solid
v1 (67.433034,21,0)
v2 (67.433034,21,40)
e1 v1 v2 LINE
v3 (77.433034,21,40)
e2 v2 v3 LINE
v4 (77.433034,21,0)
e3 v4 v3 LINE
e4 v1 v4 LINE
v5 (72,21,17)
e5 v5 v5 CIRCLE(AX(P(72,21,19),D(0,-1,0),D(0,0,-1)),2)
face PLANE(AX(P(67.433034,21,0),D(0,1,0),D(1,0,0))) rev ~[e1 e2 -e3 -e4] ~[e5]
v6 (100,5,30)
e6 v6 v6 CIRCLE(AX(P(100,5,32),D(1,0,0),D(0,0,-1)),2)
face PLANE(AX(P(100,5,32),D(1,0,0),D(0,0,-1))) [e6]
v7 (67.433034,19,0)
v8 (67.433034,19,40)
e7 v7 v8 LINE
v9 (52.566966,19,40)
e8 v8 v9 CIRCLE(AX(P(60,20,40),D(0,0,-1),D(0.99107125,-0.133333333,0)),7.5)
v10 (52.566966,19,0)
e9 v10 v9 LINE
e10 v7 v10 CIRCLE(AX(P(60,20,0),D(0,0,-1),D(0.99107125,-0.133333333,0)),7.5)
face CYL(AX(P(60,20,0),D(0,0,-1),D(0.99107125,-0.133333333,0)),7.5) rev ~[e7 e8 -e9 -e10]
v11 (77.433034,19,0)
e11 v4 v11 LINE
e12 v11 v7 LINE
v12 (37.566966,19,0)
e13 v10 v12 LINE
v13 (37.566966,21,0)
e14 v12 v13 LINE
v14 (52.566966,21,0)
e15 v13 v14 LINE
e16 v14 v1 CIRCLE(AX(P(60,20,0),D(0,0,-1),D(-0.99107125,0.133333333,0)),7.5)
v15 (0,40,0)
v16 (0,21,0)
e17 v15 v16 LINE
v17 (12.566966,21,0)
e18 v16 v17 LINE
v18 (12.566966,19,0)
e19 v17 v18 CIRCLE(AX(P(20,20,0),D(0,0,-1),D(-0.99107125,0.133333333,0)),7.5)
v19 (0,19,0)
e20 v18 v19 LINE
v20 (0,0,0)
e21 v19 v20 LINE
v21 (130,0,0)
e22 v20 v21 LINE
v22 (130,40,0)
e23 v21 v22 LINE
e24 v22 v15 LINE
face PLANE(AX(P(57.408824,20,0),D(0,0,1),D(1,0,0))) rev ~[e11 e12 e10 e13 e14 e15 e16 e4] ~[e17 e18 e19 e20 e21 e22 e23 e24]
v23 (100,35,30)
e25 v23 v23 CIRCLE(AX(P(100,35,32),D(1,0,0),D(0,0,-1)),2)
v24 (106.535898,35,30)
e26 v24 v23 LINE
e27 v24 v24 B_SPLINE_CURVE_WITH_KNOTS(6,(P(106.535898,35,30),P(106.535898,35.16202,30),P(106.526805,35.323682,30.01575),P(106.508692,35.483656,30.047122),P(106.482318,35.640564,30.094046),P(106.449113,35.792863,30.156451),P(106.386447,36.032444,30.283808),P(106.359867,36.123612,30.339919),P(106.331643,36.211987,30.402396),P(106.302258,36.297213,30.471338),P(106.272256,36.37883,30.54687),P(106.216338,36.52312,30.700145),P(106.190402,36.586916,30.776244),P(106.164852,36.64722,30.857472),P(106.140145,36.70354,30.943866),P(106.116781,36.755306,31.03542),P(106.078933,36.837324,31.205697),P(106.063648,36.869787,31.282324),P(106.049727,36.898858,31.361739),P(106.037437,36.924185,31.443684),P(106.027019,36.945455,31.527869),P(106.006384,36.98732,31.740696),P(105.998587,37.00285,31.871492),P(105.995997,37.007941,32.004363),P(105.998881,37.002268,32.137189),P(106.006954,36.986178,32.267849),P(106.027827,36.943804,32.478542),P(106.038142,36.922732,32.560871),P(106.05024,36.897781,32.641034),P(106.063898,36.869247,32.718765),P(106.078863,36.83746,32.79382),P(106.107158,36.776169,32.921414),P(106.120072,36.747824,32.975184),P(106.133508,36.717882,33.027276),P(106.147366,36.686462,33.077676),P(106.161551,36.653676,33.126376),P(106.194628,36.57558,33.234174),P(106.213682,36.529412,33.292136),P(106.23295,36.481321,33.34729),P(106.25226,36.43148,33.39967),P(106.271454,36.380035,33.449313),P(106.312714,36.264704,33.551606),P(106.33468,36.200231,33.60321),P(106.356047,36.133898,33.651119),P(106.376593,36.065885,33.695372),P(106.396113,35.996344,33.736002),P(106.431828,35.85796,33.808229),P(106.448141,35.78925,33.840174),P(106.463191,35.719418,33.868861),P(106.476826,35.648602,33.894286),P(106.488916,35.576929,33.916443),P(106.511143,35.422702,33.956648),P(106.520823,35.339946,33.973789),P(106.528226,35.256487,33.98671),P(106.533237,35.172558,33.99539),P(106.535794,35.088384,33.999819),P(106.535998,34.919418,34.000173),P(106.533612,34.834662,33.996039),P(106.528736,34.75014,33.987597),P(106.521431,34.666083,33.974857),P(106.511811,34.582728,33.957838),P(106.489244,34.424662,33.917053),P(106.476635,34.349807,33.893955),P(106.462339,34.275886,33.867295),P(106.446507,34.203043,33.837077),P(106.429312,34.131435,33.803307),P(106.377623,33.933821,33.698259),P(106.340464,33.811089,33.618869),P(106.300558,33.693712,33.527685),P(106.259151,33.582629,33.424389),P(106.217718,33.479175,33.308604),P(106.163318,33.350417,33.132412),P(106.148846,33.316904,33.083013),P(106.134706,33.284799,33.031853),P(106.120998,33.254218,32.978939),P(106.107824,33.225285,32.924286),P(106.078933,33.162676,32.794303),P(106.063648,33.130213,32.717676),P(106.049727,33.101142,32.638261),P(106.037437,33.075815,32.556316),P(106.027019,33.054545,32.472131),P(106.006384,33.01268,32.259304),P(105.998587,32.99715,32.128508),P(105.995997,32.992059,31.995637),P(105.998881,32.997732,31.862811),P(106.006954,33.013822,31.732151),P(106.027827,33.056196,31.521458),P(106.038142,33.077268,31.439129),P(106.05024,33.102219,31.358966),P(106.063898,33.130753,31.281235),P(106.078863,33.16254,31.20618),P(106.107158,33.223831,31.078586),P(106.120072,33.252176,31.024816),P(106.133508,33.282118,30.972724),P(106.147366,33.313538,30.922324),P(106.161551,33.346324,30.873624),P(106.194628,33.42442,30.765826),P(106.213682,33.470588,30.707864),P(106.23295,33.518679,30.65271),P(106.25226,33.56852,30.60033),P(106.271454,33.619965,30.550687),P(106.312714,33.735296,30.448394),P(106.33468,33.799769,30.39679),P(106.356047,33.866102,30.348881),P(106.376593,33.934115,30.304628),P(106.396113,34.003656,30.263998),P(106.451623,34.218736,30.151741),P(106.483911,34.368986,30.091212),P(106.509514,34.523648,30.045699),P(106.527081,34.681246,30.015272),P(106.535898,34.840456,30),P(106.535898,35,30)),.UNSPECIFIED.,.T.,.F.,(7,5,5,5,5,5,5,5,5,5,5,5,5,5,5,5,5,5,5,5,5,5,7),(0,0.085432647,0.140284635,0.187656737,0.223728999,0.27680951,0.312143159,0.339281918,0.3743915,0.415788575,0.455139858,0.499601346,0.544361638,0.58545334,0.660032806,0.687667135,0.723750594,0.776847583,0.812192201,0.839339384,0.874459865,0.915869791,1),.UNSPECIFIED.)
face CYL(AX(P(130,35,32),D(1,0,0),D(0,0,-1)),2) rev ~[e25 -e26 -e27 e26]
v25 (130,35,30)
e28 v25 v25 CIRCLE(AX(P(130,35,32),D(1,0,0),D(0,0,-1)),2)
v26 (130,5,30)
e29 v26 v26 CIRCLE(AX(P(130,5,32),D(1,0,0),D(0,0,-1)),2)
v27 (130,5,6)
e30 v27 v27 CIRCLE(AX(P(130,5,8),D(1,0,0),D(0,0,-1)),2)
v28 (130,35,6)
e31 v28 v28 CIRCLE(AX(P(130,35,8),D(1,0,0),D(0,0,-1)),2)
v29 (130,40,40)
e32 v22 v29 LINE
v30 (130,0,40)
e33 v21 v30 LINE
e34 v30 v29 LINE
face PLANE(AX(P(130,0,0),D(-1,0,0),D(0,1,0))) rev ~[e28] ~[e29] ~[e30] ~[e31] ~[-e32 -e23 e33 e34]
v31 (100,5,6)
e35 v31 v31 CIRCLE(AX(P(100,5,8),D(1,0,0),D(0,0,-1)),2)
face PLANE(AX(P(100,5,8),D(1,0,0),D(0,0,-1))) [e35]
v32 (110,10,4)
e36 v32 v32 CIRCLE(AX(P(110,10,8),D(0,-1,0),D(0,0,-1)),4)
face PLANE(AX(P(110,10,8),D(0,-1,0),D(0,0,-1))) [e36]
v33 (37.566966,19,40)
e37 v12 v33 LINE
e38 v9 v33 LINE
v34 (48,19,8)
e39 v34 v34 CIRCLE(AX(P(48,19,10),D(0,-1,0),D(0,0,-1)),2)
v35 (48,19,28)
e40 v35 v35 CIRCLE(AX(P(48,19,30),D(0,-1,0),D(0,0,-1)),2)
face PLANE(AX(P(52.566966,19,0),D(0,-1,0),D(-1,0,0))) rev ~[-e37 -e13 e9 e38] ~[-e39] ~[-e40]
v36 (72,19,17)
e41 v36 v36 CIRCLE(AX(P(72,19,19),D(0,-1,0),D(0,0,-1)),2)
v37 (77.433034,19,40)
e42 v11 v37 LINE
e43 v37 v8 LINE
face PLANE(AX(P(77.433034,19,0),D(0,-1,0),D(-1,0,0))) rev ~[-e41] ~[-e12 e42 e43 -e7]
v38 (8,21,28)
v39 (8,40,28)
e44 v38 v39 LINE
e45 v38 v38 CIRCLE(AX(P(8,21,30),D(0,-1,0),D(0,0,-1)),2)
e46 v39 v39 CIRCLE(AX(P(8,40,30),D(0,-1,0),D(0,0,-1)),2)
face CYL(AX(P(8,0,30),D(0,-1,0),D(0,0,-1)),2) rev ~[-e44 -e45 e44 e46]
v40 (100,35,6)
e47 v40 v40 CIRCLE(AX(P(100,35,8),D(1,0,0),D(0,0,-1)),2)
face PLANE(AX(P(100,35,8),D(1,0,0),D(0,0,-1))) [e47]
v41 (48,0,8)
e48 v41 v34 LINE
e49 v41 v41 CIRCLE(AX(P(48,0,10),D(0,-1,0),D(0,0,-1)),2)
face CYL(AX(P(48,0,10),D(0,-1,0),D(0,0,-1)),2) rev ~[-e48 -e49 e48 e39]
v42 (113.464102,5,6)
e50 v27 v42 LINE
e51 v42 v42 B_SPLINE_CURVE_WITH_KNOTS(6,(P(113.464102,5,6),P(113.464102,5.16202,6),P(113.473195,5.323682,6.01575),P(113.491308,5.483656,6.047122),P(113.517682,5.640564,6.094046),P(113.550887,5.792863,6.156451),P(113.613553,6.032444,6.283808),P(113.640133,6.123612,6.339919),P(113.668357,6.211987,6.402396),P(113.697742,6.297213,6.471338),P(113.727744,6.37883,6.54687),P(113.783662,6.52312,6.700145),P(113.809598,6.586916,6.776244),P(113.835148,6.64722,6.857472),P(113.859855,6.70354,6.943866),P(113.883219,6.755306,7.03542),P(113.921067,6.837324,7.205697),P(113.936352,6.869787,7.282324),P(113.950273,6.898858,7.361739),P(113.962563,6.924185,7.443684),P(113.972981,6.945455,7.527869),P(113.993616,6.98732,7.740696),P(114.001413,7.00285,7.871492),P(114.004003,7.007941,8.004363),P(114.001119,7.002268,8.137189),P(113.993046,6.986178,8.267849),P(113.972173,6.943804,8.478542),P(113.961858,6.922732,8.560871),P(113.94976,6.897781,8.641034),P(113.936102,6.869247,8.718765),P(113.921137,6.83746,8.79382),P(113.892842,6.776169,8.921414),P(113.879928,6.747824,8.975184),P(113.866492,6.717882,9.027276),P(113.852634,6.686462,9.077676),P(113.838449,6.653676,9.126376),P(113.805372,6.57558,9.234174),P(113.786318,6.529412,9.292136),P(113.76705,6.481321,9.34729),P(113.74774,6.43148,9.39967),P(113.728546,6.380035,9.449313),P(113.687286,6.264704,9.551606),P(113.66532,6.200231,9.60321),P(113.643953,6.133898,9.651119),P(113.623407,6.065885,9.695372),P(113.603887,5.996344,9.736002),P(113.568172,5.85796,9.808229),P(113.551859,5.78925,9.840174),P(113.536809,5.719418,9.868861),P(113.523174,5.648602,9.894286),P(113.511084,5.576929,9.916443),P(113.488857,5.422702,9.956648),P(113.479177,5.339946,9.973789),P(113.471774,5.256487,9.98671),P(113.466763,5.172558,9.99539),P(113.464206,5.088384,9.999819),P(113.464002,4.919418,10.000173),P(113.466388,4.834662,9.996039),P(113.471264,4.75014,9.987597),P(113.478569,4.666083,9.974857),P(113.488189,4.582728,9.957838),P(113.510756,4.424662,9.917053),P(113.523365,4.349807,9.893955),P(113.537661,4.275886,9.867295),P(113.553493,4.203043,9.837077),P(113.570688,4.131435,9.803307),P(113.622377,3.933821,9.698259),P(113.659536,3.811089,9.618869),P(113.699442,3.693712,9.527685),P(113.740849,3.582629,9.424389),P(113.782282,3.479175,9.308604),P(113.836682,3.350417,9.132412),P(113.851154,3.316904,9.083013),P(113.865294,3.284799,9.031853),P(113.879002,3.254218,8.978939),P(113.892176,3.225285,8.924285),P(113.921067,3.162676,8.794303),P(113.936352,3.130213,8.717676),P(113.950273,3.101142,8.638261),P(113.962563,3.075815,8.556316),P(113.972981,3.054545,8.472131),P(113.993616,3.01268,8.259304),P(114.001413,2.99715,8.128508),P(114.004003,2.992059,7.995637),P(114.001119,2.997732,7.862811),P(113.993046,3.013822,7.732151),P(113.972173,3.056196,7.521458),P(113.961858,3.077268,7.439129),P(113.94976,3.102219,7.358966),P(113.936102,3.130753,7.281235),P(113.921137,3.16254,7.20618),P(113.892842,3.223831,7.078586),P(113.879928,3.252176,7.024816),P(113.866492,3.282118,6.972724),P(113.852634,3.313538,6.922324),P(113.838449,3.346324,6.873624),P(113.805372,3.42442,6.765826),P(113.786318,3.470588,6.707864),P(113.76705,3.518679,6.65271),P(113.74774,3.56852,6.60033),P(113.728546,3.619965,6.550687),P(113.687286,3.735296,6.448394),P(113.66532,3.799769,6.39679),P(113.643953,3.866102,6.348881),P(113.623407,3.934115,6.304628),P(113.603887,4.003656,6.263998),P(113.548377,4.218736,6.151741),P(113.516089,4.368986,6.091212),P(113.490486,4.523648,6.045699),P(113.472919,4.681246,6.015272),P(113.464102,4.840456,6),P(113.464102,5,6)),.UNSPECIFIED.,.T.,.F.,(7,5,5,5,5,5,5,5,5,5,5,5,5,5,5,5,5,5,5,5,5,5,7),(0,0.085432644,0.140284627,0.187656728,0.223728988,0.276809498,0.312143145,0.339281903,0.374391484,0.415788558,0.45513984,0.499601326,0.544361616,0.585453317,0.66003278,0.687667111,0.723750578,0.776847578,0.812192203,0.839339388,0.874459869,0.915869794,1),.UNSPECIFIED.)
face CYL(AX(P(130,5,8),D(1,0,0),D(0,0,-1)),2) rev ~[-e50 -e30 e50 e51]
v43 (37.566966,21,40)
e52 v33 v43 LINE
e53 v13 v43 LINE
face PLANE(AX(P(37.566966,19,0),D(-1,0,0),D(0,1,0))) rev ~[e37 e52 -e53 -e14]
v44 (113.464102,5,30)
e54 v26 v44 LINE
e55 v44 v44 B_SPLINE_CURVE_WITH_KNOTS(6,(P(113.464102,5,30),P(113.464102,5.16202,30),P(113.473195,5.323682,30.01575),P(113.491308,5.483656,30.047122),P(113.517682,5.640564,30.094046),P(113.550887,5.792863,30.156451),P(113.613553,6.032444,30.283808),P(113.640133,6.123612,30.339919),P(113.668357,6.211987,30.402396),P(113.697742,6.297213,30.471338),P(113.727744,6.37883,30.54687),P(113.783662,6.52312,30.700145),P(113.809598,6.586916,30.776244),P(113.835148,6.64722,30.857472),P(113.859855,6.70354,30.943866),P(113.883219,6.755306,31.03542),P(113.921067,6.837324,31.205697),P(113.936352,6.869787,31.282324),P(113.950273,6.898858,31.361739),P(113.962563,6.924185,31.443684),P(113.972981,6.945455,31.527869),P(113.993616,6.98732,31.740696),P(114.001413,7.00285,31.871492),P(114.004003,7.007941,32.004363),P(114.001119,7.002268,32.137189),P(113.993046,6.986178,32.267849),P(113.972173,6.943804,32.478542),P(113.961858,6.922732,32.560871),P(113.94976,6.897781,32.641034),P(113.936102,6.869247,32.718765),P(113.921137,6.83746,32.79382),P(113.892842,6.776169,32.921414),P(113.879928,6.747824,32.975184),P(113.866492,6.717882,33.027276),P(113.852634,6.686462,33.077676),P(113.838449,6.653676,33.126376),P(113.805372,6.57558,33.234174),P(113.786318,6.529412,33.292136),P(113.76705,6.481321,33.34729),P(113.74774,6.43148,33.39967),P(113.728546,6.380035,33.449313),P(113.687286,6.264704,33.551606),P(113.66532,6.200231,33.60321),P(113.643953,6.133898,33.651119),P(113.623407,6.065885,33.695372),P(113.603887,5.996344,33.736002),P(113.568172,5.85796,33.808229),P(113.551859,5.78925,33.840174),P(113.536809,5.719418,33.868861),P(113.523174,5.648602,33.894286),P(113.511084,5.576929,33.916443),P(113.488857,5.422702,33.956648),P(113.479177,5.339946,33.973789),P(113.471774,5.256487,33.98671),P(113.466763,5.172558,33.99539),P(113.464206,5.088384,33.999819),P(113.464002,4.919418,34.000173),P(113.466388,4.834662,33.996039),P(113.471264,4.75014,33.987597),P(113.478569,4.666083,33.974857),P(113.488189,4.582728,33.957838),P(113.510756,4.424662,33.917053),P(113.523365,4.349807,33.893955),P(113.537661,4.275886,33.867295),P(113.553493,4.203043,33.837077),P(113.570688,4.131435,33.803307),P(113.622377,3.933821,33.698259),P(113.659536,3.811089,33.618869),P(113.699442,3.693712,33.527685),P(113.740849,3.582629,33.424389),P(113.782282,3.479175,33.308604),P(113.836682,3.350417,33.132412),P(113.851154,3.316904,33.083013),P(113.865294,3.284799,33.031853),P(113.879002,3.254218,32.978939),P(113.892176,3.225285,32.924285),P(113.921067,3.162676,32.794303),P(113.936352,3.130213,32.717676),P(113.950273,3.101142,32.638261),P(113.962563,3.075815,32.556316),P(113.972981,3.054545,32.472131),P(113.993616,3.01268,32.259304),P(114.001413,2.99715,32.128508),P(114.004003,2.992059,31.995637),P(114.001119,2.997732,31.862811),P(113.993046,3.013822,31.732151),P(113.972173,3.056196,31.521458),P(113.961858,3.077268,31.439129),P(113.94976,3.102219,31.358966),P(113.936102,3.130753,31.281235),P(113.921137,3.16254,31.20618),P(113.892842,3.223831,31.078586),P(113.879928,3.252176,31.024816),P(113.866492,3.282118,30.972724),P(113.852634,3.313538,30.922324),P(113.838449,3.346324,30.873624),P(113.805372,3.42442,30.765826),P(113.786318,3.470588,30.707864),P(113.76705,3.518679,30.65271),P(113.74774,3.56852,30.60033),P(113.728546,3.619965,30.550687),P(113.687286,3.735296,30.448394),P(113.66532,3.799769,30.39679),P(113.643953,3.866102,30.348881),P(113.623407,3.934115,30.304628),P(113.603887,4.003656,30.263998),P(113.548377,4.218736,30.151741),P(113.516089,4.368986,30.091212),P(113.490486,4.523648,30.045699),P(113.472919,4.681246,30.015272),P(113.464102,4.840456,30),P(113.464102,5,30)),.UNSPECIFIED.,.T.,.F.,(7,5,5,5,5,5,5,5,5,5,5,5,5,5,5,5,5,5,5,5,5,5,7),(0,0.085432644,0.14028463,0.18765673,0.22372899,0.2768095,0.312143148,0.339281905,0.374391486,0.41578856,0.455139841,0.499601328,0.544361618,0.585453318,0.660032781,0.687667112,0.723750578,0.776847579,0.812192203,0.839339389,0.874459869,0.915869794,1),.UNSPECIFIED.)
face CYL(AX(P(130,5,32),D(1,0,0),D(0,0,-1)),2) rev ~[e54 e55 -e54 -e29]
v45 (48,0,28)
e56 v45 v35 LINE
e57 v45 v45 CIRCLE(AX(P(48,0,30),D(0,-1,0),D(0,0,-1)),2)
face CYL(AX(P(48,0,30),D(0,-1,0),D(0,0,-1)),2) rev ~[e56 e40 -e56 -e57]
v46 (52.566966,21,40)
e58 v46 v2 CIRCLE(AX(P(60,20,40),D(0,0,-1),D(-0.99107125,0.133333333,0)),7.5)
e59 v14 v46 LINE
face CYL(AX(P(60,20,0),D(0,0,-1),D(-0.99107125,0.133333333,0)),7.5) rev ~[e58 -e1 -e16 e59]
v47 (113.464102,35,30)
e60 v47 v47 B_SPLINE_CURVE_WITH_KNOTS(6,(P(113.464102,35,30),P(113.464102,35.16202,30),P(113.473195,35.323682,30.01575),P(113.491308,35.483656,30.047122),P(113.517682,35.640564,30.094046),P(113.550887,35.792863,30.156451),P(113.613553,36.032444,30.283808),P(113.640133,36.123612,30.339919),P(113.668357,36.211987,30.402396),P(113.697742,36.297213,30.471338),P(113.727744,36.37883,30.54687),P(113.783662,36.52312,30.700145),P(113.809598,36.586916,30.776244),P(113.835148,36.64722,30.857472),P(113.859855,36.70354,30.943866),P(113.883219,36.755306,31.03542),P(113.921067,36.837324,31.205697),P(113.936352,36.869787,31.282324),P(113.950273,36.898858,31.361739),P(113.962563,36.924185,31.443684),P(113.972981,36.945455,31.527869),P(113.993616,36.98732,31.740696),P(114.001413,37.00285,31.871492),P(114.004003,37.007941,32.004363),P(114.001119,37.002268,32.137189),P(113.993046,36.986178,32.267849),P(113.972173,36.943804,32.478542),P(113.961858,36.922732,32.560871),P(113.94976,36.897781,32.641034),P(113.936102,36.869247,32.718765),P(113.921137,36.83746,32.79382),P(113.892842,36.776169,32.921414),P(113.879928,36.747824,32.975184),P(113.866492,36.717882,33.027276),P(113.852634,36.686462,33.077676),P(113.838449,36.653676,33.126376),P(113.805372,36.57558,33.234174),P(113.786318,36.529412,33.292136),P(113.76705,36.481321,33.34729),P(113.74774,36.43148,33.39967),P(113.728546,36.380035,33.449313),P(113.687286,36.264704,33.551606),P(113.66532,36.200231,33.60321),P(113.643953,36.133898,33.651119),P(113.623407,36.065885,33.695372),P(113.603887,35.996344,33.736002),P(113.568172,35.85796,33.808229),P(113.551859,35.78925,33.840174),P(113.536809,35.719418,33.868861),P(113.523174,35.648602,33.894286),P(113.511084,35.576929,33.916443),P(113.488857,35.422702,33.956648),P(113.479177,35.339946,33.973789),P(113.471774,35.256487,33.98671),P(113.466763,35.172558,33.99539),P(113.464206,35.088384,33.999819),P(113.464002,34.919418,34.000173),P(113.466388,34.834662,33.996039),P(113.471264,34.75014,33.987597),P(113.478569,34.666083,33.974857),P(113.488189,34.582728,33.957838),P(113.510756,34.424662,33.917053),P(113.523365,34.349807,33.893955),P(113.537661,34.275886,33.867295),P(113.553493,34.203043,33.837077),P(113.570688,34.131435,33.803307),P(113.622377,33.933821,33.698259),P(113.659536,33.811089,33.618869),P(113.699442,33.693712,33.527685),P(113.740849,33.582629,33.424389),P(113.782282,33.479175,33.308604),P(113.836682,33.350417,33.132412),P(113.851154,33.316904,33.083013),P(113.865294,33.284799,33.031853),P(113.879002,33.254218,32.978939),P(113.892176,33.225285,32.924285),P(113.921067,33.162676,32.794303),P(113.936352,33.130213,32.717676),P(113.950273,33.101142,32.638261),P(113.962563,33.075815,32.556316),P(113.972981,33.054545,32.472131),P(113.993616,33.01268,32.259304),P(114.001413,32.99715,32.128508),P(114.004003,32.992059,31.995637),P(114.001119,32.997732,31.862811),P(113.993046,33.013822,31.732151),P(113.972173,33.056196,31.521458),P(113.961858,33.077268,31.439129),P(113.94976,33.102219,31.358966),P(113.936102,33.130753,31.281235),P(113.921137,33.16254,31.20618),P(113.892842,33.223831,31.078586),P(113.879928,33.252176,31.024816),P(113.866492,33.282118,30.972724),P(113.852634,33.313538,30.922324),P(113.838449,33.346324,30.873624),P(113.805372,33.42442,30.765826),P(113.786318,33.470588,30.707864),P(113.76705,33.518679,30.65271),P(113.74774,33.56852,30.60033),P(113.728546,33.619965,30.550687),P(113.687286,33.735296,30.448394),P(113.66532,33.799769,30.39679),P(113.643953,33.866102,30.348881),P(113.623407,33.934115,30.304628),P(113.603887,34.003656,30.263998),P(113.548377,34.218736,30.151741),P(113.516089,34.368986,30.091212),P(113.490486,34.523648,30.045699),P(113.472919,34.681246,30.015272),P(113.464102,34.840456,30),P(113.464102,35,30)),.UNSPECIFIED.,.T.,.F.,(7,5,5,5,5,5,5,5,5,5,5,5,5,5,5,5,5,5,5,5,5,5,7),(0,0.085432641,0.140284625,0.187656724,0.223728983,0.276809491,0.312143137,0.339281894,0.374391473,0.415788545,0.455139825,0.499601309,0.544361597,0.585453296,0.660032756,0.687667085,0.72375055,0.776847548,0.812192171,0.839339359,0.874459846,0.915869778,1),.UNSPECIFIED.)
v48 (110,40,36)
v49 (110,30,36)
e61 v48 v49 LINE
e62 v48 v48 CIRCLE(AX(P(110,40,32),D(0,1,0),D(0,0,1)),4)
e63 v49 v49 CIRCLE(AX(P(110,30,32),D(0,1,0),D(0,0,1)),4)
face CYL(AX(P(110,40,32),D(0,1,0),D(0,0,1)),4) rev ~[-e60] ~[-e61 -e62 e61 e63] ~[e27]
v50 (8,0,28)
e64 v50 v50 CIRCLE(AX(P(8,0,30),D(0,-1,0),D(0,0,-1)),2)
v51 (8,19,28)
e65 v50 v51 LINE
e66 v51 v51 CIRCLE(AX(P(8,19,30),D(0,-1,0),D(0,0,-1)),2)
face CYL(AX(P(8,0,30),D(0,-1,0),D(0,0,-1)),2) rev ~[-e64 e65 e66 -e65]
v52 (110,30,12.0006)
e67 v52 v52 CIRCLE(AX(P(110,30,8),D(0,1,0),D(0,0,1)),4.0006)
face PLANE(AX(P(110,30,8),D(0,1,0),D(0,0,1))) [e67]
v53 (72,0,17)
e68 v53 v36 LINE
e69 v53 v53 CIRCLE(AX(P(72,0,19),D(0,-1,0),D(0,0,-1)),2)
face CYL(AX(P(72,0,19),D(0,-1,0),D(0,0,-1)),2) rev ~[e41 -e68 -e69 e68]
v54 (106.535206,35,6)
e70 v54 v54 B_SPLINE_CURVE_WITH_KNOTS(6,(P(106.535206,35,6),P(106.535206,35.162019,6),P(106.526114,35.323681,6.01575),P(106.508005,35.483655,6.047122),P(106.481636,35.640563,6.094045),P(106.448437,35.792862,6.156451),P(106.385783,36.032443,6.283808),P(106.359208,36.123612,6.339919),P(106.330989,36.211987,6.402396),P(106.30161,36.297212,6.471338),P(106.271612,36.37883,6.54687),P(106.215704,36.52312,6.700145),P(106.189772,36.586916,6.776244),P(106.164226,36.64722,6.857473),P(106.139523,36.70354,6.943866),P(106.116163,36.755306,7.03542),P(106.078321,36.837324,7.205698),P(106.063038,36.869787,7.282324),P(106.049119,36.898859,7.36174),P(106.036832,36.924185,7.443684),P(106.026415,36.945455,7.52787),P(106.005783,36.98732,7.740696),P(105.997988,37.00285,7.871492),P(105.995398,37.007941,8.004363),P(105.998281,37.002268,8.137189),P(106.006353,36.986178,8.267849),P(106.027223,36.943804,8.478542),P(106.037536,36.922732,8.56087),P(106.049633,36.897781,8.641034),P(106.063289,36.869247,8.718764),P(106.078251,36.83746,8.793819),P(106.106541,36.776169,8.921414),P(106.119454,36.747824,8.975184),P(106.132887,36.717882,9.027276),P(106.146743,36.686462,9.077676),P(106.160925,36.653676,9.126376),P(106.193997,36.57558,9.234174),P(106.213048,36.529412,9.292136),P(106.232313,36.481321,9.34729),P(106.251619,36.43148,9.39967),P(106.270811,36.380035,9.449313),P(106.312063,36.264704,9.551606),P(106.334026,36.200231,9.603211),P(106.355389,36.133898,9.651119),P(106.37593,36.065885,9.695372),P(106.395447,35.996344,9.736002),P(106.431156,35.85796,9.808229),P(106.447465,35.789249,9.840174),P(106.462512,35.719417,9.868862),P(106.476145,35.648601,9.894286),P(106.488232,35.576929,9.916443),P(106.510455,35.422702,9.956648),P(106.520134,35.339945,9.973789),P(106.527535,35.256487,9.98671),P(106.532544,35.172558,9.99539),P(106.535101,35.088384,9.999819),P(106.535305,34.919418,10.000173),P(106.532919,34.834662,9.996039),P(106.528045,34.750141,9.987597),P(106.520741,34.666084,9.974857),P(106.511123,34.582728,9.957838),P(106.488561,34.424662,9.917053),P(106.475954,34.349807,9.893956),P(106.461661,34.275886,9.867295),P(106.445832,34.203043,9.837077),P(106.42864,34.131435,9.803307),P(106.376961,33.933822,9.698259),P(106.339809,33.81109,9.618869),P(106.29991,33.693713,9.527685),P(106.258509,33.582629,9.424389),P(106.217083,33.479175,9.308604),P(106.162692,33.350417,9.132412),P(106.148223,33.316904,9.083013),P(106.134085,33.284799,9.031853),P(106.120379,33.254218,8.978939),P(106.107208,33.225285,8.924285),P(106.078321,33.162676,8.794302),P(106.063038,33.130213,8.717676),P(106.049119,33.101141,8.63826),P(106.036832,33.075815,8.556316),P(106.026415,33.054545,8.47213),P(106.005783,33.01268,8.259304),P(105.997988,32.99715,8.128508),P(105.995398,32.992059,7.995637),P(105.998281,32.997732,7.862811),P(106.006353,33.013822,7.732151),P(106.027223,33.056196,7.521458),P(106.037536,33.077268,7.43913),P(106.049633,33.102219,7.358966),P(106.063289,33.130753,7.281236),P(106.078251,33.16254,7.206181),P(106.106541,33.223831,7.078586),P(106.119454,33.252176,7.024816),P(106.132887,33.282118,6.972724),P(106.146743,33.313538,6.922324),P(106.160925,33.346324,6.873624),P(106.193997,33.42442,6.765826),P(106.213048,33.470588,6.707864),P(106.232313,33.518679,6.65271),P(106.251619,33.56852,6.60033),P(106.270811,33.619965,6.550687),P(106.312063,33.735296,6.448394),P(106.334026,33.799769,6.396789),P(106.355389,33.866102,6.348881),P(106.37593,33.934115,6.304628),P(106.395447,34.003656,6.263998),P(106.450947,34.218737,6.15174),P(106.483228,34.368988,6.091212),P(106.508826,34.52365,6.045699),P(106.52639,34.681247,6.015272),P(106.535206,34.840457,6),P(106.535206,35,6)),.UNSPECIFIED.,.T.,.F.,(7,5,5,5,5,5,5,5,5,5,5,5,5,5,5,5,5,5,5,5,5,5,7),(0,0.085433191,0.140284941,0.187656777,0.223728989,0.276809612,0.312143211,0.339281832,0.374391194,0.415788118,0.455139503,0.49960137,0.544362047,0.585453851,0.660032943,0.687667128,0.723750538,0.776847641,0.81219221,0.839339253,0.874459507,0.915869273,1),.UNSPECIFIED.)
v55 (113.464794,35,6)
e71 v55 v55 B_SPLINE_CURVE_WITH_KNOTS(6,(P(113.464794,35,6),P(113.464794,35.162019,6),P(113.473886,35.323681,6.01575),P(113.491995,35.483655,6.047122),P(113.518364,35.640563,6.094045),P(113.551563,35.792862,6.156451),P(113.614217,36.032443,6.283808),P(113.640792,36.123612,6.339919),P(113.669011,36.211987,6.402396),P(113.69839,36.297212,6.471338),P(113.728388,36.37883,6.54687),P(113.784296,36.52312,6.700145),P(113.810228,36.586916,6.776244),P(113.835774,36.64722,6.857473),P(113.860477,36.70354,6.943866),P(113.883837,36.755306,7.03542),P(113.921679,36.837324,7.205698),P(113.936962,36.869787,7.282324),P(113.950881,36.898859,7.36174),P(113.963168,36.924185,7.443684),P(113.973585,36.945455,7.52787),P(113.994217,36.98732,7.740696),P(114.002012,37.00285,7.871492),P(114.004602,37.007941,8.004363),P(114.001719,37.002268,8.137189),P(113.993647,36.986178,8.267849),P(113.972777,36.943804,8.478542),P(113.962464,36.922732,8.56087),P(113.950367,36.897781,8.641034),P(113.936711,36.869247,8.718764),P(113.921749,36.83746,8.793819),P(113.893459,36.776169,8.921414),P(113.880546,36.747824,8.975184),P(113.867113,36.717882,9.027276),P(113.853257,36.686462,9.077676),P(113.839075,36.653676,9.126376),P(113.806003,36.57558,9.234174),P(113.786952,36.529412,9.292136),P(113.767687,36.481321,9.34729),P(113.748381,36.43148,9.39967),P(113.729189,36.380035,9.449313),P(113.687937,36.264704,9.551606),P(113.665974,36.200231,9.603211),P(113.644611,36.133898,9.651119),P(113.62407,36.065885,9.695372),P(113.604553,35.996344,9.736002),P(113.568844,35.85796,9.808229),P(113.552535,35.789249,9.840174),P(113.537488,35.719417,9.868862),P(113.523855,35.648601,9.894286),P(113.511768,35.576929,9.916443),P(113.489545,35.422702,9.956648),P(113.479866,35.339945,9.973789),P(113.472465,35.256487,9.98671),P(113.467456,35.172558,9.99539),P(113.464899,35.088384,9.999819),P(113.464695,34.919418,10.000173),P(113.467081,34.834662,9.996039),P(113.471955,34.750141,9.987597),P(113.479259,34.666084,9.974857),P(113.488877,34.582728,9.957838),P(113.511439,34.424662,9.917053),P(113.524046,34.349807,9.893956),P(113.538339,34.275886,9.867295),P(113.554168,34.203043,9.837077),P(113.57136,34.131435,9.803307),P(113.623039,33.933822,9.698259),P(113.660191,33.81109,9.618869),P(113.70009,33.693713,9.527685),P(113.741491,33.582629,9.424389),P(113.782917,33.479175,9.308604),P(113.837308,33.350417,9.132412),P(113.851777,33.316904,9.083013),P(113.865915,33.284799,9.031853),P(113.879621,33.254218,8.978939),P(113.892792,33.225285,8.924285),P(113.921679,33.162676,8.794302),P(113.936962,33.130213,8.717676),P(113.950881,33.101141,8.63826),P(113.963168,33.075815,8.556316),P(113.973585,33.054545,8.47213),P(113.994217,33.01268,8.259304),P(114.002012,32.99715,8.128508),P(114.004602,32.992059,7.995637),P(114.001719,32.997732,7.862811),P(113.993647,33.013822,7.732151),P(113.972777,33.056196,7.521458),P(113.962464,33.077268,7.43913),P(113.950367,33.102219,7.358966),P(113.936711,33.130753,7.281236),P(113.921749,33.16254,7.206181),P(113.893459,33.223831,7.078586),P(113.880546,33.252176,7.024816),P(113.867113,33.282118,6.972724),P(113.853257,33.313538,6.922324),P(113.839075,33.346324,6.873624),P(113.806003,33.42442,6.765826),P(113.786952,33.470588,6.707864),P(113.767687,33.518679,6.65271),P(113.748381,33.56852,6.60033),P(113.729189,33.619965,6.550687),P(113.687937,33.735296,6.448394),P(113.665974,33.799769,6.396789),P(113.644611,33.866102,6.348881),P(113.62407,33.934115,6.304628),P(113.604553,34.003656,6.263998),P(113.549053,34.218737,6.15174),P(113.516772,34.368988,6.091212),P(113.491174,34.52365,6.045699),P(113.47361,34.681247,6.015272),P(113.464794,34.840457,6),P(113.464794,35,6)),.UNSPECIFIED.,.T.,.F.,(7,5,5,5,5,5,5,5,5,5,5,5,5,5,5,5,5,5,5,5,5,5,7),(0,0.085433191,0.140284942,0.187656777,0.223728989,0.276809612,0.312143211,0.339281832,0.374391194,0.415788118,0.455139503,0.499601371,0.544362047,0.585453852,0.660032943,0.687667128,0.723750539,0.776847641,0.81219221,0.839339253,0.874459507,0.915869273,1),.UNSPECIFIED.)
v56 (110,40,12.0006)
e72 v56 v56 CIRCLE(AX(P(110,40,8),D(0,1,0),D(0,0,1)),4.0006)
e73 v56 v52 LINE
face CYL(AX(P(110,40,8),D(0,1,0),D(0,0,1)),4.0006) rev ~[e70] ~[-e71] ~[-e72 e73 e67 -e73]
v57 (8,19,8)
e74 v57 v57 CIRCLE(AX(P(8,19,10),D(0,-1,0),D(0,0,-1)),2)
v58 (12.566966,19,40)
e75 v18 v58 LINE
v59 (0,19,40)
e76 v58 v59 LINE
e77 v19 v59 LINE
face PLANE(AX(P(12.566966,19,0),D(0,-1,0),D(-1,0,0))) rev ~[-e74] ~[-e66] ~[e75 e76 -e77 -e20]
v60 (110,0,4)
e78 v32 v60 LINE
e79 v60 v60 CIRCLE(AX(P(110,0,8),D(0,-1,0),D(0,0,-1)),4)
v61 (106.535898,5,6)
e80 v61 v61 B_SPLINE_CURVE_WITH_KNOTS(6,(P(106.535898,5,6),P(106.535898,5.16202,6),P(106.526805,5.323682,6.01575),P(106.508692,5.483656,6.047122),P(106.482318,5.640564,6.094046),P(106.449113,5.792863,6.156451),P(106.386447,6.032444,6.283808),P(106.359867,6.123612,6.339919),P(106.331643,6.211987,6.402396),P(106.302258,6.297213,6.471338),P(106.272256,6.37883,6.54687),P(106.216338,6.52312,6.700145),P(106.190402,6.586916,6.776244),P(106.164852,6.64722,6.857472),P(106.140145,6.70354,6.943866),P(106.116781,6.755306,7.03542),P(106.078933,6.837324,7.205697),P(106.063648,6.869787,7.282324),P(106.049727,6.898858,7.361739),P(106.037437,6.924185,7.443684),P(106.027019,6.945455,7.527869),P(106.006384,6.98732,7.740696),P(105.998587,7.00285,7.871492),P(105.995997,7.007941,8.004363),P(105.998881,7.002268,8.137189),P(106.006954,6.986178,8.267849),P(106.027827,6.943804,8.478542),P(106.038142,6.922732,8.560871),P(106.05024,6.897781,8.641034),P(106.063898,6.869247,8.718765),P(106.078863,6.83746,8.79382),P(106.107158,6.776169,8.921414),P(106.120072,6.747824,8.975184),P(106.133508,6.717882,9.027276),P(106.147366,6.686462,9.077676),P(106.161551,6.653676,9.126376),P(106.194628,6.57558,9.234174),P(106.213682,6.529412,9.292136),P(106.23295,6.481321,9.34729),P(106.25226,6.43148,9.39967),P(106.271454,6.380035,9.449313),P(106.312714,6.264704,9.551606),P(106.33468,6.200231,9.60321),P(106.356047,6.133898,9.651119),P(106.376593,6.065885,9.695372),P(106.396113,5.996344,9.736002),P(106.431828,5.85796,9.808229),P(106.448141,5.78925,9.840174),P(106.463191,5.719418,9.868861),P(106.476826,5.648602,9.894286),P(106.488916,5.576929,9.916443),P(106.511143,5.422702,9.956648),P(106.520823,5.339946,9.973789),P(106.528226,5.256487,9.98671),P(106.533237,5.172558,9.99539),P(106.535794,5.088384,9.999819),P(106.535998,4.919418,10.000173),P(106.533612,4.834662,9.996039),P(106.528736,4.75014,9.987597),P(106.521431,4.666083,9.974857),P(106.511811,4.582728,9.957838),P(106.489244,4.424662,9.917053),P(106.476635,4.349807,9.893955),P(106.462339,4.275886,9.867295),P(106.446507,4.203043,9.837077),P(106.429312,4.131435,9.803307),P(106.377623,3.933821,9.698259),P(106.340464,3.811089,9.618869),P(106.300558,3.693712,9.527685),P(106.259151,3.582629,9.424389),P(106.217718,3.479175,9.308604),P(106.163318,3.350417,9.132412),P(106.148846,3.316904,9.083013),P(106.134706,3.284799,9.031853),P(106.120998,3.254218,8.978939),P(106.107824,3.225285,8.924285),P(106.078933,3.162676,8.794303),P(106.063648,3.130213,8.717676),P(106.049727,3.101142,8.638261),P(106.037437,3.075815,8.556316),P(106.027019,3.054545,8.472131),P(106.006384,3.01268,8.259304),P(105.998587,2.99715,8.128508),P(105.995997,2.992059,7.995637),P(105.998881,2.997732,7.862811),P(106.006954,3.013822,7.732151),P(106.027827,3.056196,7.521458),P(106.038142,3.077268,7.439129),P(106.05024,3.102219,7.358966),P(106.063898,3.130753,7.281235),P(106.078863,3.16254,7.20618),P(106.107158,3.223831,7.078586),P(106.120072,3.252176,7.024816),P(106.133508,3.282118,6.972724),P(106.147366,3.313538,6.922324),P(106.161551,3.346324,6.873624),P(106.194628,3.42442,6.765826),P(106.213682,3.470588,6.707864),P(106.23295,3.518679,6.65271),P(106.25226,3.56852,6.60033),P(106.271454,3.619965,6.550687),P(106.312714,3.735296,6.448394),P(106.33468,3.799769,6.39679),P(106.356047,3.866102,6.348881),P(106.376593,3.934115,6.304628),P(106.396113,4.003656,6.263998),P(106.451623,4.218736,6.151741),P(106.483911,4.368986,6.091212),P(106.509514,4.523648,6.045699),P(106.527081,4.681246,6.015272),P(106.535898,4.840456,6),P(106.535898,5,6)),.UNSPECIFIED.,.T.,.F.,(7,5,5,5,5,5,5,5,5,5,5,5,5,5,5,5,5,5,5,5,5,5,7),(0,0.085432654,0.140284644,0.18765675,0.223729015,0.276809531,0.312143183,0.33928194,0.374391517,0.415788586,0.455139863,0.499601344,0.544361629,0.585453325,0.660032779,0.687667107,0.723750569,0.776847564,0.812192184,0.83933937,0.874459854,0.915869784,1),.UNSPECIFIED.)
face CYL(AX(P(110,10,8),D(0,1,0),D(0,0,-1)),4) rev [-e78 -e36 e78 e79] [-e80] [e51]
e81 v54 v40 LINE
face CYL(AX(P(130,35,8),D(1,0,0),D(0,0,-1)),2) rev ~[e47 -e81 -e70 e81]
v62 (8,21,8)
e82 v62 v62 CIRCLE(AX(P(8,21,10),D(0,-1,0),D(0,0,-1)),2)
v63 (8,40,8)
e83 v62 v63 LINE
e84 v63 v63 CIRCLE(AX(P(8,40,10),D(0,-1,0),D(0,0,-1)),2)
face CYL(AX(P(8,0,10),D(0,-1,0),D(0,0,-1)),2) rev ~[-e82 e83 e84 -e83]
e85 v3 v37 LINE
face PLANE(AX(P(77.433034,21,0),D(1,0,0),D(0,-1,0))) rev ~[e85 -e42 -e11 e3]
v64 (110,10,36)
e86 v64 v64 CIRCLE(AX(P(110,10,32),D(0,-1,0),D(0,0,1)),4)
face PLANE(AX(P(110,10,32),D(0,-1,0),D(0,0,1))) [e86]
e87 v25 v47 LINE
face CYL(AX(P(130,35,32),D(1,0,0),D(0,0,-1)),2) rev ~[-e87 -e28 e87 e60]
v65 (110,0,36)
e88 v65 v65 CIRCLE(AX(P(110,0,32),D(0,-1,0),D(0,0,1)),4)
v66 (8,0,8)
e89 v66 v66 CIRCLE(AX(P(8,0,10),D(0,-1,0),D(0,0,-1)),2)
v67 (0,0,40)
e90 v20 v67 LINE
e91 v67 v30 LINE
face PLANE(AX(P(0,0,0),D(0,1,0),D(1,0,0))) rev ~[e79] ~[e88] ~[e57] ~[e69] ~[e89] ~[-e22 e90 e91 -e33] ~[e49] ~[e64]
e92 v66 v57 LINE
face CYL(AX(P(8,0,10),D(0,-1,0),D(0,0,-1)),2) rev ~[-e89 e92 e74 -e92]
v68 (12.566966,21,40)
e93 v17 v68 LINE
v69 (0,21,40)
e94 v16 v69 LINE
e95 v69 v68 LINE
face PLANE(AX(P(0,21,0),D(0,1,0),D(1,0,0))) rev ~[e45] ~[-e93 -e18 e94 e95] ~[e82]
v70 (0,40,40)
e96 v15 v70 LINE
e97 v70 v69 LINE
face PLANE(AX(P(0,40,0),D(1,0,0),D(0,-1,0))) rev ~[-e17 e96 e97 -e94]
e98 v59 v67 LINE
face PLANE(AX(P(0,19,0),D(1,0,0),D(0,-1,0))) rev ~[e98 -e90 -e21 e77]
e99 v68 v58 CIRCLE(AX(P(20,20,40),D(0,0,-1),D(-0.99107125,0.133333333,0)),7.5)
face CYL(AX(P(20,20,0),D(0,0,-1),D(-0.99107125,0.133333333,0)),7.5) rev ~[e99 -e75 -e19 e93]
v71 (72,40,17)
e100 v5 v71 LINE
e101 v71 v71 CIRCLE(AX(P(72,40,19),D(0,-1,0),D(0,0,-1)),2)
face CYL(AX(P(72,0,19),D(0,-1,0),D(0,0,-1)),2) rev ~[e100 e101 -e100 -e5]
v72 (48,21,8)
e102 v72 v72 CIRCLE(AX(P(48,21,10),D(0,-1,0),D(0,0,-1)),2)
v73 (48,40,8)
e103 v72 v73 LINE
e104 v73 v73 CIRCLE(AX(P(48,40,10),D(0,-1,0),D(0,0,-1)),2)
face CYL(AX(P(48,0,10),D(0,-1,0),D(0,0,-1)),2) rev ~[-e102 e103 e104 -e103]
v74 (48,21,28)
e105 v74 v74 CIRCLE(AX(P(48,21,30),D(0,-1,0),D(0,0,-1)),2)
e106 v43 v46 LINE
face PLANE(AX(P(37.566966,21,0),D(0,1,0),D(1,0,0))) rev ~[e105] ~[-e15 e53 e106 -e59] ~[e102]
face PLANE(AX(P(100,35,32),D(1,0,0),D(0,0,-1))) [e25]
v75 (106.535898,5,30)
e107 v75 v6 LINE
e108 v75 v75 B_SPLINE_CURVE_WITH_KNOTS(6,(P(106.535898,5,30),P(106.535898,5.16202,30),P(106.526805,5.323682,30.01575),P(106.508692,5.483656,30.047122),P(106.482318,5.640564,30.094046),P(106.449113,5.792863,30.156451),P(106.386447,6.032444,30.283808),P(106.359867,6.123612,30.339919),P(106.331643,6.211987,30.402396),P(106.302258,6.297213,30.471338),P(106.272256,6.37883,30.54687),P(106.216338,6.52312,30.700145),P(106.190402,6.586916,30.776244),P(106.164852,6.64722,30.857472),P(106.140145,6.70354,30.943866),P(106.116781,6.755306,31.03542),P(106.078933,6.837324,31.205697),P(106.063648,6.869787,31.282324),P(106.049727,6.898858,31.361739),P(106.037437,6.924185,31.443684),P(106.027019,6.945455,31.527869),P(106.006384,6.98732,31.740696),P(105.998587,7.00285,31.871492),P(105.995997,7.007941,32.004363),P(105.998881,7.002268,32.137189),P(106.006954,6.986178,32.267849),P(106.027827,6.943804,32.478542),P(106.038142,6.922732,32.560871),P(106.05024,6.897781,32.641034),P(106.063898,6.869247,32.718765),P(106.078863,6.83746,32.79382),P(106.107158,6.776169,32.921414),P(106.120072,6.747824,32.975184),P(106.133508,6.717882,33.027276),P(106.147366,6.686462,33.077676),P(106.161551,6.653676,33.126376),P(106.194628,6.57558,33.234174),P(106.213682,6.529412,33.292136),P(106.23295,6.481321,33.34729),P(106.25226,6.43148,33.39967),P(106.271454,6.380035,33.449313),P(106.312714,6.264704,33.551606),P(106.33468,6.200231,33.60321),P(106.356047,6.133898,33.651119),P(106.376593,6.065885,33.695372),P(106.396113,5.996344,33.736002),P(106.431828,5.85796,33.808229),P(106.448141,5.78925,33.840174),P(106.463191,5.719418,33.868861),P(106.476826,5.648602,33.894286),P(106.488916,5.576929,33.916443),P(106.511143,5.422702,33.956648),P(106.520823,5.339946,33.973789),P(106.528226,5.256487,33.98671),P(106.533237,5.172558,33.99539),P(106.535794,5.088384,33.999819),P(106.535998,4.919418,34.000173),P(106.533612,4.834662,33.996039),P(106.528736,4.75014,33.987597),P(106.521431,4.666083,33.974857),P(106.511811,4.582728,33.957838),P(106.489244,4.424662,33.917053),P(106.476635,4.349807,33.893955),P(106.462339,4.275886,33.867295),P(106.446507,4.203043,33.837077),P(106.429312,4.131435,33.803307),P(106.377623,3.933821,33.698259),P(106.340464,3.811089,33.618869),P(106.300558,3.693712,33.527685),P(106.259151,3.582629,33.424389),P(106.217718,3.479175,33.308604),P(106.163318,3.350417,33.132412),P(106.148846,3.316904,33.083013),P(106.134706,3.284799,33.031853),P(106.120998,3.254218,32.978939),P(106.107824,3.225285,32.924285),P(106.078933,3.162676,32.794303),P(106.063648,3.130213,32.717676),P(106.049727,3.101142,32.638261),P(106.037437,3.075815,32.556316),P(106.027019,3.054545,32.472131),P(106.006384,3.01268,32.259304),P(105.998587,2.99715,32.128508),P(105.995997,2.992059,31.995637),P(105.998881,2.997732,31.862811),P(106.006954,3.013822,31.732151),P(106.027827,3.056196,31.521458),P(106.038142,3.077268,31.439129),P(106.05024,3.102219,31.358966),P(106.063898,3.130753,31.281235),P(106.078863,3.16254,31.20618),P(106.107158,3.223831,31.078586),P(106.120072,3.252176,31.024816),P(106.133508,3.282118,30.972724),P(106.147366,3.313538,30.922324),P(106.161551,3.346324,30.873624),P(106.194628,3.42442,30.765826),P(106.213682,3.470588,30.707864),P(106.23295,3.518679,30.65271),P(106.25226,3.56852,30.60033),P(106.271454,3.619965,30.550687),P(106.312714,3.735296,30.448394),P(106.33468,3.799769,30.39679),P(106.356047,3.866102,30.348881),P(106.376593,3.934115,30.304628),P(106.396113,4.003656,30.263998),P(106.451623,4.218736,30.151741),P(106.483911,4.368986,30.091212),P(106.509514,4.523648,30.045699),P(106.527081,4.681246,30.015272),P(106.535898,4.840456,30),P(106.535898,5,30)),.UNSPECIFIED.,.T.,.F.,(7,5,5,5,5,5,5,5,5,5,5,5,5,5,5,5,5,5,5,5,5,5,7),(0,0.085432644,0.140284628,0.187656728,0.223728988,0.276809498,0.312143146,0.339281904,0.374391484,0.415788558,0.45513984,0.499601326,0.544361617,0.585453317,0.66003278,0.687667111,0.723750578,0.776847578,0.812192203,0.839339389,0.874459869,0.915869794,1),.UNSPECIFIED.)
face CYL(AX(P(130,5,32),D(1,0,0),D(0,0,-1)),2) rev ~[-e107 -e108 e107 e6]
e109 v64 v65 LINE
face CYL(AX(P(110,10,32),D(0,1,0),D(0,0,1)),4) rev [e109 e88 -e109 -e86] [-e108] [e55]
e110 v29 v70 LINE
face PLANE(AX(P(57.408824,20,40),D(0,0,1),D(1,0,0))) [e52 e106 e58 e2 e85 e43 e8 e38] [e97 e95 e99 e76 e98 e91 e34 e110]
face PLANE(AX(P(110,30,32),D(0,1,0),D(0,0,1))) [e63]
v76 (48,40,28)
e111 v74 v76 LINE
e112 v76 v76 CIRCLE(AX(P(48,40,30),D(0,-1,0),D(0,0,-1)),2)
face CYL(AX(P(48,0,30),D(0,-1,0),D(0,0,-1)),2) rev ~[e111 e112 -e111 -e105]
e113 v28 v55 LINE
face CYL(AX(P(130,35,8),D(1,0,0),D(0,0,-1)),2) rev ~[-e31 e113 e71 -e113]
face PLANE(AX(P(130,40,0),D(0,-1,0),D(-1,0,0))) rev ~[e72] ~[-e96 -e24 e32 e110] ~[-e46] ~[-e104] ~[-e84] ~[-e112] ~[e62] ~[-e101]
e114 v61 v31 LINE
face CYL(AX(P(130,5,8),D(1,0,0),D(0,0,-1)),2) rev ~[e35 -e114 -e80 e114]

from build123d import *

# Parameters (mm, degrees)
EXTRUDE_1_DEPTH     = 40
SKETCH_8_R          = 2
CUT_EXTRUDE_1_DEPTH = 50
SKETCH_9_R          = 2
CUT_EXTRUDE_2_DEPTH = 30
SKETCH_10_R         = 4.000599978
SKETCH_10_R_2       = 4
CUT_EXTRUDE_3_DEPTH = 10
CUT_EXTRUDE_START   = -10
SKETCH_11_R         = 4
CUT_EXTRUDE_4_DEPTH = 10
SKETCH_12_R         = 2
CUT_EXTRUDE_5_DEPTH = 40


with BuildPart() as part:
    # Эскиз1 → Бобышка-Вытянуть1 (new body)
    with BuildSketch(Plane.XY):
        with BuildLine():
            Line((0, 0), (130, 0))
            Line((130, 0), (130, 40))
            Line((130, 40), (0, 40))
            Line((0, 40), (0, 21))
            Line((0, 21), (12.566965626, 21))
            ThreePointArc((12.566965626, 21), (27.5, 20), (12.566965626, 19))
            Line((12.566965626, 19), (0, 19))
            Line((0, 19), (0, 0))
        make_face()
        with BuildLine():
            Line((67.433034374, 21), (77.433034374, 21))
            Line((77.433034374, 21), (77.433034374, 19))
            Line((77.433034374, 19), (67.433034374, 19))
            ThreePointArc((67.433034374, 19), (60, 12.5), (52.566965626, 19))
            Line((52.566965626, 19), (37.566965626, 19))
            Line((37.566965626, 19), (37.566965626, 21))
            Line((37.566965626, 21), (52.566965626, 21))
            ThreePointArc((52.566965626, 21), (60, 27.5), (67.433034374, 21))
        make_face(mode=Mode.SUBTRACT)
    extrude(amount=EXTRUDE_1_DEPTH)

    # Эскиз8 → Вырез-Вытянуть1 (cut)
    with BuildSketch(Plane.XZ):
        with Locations(Location((8, 30, 0), (0, 0, 270))):
            Circle(SKETCH_8_R)
        with Locations(Location((8, 10, 0), (0, 0, 270))):
            Circle(SKETCH_8_R)
        with Locations(Location((48, 30, 0), (0, 0, 270))):
            Circle(SKETCH_8_R)
        with Locations(Location((48, 10, 0), (0, 0, 270))):
            Circle(SKETCH_8_R)
    extrude(amount=-CUT_EXTRUDE_1_DEPTH, mode=Mode.SUBTRACT)

    # Эскиз9 → Вырез-Вытянуть2 (cut)
    with BuildSketch(Plane(origin=(130, 0, 0), x_dir=(0, 0, -1), z_dir=(1, 0, 0))):
        with Locations((-32, 35)):
            Circle(SKETCH_9_R)
        with Locations((-8, 35)):
            Circle(SKETCH_9_R)
        with Locations((-8, 5)):
            Circle(SKETCH_9_R)
        with Locations((-32, 5)):
            Circle(SKETCH_9_R)
    extrude(amount=-CUT_EXTRUDE_2_DEPTH, mode=Mode.SUBTRACT)

    # Эскиз10 → Вырез-Вытянуть3 (cut)
    with BuildSketch(Plane(origin=(0, 40, 0), x_dir=(1, 0, 0), z_dir=(0, 1, 0))):
        with Locations(Location((110, -8, 0), (0, 0, 270))):
            Circle(SKETCH_10_R)
        with Locations(Location((110, -32, 0), (0, 0, 270))):
            Circle(SKETCH_10_R_2)
    extrude(amount=-CUT_EXTRUDE_3_DEPTH, mode=Mode.SUBTRACT)

    # Эскиз11 → Вырез-Вытянуть4 (cut)
    with BuildSketch(Plane.XZ.offset(CUT_EXTRUDE_START)):
        with Locations(Location((110, 32, 0), (0, 0, 90))):
            Circle(SKETCH_11_R)
        with Locations(Location((110, 8, 0), (0, 0, 270))):
            Circle(SKETCH_11_R)
    extrude(amount=CUT_EXTRUDE_4_DEPTH, mode=Mode.SUBTRACT)

    # Эскиз12 → Вырез-Вытянуть5 (cut)
    with BuildSketch(Plane.XZ):
        with Locations(Location((72, 19, 0), (0, 0, 270))):
            Circle(SKETCH_12_R)
    extrude(amount=-CUT_EXTRUDE_5_DEPTH, mode=Mode.SUBTRACT)


solid = part.part
